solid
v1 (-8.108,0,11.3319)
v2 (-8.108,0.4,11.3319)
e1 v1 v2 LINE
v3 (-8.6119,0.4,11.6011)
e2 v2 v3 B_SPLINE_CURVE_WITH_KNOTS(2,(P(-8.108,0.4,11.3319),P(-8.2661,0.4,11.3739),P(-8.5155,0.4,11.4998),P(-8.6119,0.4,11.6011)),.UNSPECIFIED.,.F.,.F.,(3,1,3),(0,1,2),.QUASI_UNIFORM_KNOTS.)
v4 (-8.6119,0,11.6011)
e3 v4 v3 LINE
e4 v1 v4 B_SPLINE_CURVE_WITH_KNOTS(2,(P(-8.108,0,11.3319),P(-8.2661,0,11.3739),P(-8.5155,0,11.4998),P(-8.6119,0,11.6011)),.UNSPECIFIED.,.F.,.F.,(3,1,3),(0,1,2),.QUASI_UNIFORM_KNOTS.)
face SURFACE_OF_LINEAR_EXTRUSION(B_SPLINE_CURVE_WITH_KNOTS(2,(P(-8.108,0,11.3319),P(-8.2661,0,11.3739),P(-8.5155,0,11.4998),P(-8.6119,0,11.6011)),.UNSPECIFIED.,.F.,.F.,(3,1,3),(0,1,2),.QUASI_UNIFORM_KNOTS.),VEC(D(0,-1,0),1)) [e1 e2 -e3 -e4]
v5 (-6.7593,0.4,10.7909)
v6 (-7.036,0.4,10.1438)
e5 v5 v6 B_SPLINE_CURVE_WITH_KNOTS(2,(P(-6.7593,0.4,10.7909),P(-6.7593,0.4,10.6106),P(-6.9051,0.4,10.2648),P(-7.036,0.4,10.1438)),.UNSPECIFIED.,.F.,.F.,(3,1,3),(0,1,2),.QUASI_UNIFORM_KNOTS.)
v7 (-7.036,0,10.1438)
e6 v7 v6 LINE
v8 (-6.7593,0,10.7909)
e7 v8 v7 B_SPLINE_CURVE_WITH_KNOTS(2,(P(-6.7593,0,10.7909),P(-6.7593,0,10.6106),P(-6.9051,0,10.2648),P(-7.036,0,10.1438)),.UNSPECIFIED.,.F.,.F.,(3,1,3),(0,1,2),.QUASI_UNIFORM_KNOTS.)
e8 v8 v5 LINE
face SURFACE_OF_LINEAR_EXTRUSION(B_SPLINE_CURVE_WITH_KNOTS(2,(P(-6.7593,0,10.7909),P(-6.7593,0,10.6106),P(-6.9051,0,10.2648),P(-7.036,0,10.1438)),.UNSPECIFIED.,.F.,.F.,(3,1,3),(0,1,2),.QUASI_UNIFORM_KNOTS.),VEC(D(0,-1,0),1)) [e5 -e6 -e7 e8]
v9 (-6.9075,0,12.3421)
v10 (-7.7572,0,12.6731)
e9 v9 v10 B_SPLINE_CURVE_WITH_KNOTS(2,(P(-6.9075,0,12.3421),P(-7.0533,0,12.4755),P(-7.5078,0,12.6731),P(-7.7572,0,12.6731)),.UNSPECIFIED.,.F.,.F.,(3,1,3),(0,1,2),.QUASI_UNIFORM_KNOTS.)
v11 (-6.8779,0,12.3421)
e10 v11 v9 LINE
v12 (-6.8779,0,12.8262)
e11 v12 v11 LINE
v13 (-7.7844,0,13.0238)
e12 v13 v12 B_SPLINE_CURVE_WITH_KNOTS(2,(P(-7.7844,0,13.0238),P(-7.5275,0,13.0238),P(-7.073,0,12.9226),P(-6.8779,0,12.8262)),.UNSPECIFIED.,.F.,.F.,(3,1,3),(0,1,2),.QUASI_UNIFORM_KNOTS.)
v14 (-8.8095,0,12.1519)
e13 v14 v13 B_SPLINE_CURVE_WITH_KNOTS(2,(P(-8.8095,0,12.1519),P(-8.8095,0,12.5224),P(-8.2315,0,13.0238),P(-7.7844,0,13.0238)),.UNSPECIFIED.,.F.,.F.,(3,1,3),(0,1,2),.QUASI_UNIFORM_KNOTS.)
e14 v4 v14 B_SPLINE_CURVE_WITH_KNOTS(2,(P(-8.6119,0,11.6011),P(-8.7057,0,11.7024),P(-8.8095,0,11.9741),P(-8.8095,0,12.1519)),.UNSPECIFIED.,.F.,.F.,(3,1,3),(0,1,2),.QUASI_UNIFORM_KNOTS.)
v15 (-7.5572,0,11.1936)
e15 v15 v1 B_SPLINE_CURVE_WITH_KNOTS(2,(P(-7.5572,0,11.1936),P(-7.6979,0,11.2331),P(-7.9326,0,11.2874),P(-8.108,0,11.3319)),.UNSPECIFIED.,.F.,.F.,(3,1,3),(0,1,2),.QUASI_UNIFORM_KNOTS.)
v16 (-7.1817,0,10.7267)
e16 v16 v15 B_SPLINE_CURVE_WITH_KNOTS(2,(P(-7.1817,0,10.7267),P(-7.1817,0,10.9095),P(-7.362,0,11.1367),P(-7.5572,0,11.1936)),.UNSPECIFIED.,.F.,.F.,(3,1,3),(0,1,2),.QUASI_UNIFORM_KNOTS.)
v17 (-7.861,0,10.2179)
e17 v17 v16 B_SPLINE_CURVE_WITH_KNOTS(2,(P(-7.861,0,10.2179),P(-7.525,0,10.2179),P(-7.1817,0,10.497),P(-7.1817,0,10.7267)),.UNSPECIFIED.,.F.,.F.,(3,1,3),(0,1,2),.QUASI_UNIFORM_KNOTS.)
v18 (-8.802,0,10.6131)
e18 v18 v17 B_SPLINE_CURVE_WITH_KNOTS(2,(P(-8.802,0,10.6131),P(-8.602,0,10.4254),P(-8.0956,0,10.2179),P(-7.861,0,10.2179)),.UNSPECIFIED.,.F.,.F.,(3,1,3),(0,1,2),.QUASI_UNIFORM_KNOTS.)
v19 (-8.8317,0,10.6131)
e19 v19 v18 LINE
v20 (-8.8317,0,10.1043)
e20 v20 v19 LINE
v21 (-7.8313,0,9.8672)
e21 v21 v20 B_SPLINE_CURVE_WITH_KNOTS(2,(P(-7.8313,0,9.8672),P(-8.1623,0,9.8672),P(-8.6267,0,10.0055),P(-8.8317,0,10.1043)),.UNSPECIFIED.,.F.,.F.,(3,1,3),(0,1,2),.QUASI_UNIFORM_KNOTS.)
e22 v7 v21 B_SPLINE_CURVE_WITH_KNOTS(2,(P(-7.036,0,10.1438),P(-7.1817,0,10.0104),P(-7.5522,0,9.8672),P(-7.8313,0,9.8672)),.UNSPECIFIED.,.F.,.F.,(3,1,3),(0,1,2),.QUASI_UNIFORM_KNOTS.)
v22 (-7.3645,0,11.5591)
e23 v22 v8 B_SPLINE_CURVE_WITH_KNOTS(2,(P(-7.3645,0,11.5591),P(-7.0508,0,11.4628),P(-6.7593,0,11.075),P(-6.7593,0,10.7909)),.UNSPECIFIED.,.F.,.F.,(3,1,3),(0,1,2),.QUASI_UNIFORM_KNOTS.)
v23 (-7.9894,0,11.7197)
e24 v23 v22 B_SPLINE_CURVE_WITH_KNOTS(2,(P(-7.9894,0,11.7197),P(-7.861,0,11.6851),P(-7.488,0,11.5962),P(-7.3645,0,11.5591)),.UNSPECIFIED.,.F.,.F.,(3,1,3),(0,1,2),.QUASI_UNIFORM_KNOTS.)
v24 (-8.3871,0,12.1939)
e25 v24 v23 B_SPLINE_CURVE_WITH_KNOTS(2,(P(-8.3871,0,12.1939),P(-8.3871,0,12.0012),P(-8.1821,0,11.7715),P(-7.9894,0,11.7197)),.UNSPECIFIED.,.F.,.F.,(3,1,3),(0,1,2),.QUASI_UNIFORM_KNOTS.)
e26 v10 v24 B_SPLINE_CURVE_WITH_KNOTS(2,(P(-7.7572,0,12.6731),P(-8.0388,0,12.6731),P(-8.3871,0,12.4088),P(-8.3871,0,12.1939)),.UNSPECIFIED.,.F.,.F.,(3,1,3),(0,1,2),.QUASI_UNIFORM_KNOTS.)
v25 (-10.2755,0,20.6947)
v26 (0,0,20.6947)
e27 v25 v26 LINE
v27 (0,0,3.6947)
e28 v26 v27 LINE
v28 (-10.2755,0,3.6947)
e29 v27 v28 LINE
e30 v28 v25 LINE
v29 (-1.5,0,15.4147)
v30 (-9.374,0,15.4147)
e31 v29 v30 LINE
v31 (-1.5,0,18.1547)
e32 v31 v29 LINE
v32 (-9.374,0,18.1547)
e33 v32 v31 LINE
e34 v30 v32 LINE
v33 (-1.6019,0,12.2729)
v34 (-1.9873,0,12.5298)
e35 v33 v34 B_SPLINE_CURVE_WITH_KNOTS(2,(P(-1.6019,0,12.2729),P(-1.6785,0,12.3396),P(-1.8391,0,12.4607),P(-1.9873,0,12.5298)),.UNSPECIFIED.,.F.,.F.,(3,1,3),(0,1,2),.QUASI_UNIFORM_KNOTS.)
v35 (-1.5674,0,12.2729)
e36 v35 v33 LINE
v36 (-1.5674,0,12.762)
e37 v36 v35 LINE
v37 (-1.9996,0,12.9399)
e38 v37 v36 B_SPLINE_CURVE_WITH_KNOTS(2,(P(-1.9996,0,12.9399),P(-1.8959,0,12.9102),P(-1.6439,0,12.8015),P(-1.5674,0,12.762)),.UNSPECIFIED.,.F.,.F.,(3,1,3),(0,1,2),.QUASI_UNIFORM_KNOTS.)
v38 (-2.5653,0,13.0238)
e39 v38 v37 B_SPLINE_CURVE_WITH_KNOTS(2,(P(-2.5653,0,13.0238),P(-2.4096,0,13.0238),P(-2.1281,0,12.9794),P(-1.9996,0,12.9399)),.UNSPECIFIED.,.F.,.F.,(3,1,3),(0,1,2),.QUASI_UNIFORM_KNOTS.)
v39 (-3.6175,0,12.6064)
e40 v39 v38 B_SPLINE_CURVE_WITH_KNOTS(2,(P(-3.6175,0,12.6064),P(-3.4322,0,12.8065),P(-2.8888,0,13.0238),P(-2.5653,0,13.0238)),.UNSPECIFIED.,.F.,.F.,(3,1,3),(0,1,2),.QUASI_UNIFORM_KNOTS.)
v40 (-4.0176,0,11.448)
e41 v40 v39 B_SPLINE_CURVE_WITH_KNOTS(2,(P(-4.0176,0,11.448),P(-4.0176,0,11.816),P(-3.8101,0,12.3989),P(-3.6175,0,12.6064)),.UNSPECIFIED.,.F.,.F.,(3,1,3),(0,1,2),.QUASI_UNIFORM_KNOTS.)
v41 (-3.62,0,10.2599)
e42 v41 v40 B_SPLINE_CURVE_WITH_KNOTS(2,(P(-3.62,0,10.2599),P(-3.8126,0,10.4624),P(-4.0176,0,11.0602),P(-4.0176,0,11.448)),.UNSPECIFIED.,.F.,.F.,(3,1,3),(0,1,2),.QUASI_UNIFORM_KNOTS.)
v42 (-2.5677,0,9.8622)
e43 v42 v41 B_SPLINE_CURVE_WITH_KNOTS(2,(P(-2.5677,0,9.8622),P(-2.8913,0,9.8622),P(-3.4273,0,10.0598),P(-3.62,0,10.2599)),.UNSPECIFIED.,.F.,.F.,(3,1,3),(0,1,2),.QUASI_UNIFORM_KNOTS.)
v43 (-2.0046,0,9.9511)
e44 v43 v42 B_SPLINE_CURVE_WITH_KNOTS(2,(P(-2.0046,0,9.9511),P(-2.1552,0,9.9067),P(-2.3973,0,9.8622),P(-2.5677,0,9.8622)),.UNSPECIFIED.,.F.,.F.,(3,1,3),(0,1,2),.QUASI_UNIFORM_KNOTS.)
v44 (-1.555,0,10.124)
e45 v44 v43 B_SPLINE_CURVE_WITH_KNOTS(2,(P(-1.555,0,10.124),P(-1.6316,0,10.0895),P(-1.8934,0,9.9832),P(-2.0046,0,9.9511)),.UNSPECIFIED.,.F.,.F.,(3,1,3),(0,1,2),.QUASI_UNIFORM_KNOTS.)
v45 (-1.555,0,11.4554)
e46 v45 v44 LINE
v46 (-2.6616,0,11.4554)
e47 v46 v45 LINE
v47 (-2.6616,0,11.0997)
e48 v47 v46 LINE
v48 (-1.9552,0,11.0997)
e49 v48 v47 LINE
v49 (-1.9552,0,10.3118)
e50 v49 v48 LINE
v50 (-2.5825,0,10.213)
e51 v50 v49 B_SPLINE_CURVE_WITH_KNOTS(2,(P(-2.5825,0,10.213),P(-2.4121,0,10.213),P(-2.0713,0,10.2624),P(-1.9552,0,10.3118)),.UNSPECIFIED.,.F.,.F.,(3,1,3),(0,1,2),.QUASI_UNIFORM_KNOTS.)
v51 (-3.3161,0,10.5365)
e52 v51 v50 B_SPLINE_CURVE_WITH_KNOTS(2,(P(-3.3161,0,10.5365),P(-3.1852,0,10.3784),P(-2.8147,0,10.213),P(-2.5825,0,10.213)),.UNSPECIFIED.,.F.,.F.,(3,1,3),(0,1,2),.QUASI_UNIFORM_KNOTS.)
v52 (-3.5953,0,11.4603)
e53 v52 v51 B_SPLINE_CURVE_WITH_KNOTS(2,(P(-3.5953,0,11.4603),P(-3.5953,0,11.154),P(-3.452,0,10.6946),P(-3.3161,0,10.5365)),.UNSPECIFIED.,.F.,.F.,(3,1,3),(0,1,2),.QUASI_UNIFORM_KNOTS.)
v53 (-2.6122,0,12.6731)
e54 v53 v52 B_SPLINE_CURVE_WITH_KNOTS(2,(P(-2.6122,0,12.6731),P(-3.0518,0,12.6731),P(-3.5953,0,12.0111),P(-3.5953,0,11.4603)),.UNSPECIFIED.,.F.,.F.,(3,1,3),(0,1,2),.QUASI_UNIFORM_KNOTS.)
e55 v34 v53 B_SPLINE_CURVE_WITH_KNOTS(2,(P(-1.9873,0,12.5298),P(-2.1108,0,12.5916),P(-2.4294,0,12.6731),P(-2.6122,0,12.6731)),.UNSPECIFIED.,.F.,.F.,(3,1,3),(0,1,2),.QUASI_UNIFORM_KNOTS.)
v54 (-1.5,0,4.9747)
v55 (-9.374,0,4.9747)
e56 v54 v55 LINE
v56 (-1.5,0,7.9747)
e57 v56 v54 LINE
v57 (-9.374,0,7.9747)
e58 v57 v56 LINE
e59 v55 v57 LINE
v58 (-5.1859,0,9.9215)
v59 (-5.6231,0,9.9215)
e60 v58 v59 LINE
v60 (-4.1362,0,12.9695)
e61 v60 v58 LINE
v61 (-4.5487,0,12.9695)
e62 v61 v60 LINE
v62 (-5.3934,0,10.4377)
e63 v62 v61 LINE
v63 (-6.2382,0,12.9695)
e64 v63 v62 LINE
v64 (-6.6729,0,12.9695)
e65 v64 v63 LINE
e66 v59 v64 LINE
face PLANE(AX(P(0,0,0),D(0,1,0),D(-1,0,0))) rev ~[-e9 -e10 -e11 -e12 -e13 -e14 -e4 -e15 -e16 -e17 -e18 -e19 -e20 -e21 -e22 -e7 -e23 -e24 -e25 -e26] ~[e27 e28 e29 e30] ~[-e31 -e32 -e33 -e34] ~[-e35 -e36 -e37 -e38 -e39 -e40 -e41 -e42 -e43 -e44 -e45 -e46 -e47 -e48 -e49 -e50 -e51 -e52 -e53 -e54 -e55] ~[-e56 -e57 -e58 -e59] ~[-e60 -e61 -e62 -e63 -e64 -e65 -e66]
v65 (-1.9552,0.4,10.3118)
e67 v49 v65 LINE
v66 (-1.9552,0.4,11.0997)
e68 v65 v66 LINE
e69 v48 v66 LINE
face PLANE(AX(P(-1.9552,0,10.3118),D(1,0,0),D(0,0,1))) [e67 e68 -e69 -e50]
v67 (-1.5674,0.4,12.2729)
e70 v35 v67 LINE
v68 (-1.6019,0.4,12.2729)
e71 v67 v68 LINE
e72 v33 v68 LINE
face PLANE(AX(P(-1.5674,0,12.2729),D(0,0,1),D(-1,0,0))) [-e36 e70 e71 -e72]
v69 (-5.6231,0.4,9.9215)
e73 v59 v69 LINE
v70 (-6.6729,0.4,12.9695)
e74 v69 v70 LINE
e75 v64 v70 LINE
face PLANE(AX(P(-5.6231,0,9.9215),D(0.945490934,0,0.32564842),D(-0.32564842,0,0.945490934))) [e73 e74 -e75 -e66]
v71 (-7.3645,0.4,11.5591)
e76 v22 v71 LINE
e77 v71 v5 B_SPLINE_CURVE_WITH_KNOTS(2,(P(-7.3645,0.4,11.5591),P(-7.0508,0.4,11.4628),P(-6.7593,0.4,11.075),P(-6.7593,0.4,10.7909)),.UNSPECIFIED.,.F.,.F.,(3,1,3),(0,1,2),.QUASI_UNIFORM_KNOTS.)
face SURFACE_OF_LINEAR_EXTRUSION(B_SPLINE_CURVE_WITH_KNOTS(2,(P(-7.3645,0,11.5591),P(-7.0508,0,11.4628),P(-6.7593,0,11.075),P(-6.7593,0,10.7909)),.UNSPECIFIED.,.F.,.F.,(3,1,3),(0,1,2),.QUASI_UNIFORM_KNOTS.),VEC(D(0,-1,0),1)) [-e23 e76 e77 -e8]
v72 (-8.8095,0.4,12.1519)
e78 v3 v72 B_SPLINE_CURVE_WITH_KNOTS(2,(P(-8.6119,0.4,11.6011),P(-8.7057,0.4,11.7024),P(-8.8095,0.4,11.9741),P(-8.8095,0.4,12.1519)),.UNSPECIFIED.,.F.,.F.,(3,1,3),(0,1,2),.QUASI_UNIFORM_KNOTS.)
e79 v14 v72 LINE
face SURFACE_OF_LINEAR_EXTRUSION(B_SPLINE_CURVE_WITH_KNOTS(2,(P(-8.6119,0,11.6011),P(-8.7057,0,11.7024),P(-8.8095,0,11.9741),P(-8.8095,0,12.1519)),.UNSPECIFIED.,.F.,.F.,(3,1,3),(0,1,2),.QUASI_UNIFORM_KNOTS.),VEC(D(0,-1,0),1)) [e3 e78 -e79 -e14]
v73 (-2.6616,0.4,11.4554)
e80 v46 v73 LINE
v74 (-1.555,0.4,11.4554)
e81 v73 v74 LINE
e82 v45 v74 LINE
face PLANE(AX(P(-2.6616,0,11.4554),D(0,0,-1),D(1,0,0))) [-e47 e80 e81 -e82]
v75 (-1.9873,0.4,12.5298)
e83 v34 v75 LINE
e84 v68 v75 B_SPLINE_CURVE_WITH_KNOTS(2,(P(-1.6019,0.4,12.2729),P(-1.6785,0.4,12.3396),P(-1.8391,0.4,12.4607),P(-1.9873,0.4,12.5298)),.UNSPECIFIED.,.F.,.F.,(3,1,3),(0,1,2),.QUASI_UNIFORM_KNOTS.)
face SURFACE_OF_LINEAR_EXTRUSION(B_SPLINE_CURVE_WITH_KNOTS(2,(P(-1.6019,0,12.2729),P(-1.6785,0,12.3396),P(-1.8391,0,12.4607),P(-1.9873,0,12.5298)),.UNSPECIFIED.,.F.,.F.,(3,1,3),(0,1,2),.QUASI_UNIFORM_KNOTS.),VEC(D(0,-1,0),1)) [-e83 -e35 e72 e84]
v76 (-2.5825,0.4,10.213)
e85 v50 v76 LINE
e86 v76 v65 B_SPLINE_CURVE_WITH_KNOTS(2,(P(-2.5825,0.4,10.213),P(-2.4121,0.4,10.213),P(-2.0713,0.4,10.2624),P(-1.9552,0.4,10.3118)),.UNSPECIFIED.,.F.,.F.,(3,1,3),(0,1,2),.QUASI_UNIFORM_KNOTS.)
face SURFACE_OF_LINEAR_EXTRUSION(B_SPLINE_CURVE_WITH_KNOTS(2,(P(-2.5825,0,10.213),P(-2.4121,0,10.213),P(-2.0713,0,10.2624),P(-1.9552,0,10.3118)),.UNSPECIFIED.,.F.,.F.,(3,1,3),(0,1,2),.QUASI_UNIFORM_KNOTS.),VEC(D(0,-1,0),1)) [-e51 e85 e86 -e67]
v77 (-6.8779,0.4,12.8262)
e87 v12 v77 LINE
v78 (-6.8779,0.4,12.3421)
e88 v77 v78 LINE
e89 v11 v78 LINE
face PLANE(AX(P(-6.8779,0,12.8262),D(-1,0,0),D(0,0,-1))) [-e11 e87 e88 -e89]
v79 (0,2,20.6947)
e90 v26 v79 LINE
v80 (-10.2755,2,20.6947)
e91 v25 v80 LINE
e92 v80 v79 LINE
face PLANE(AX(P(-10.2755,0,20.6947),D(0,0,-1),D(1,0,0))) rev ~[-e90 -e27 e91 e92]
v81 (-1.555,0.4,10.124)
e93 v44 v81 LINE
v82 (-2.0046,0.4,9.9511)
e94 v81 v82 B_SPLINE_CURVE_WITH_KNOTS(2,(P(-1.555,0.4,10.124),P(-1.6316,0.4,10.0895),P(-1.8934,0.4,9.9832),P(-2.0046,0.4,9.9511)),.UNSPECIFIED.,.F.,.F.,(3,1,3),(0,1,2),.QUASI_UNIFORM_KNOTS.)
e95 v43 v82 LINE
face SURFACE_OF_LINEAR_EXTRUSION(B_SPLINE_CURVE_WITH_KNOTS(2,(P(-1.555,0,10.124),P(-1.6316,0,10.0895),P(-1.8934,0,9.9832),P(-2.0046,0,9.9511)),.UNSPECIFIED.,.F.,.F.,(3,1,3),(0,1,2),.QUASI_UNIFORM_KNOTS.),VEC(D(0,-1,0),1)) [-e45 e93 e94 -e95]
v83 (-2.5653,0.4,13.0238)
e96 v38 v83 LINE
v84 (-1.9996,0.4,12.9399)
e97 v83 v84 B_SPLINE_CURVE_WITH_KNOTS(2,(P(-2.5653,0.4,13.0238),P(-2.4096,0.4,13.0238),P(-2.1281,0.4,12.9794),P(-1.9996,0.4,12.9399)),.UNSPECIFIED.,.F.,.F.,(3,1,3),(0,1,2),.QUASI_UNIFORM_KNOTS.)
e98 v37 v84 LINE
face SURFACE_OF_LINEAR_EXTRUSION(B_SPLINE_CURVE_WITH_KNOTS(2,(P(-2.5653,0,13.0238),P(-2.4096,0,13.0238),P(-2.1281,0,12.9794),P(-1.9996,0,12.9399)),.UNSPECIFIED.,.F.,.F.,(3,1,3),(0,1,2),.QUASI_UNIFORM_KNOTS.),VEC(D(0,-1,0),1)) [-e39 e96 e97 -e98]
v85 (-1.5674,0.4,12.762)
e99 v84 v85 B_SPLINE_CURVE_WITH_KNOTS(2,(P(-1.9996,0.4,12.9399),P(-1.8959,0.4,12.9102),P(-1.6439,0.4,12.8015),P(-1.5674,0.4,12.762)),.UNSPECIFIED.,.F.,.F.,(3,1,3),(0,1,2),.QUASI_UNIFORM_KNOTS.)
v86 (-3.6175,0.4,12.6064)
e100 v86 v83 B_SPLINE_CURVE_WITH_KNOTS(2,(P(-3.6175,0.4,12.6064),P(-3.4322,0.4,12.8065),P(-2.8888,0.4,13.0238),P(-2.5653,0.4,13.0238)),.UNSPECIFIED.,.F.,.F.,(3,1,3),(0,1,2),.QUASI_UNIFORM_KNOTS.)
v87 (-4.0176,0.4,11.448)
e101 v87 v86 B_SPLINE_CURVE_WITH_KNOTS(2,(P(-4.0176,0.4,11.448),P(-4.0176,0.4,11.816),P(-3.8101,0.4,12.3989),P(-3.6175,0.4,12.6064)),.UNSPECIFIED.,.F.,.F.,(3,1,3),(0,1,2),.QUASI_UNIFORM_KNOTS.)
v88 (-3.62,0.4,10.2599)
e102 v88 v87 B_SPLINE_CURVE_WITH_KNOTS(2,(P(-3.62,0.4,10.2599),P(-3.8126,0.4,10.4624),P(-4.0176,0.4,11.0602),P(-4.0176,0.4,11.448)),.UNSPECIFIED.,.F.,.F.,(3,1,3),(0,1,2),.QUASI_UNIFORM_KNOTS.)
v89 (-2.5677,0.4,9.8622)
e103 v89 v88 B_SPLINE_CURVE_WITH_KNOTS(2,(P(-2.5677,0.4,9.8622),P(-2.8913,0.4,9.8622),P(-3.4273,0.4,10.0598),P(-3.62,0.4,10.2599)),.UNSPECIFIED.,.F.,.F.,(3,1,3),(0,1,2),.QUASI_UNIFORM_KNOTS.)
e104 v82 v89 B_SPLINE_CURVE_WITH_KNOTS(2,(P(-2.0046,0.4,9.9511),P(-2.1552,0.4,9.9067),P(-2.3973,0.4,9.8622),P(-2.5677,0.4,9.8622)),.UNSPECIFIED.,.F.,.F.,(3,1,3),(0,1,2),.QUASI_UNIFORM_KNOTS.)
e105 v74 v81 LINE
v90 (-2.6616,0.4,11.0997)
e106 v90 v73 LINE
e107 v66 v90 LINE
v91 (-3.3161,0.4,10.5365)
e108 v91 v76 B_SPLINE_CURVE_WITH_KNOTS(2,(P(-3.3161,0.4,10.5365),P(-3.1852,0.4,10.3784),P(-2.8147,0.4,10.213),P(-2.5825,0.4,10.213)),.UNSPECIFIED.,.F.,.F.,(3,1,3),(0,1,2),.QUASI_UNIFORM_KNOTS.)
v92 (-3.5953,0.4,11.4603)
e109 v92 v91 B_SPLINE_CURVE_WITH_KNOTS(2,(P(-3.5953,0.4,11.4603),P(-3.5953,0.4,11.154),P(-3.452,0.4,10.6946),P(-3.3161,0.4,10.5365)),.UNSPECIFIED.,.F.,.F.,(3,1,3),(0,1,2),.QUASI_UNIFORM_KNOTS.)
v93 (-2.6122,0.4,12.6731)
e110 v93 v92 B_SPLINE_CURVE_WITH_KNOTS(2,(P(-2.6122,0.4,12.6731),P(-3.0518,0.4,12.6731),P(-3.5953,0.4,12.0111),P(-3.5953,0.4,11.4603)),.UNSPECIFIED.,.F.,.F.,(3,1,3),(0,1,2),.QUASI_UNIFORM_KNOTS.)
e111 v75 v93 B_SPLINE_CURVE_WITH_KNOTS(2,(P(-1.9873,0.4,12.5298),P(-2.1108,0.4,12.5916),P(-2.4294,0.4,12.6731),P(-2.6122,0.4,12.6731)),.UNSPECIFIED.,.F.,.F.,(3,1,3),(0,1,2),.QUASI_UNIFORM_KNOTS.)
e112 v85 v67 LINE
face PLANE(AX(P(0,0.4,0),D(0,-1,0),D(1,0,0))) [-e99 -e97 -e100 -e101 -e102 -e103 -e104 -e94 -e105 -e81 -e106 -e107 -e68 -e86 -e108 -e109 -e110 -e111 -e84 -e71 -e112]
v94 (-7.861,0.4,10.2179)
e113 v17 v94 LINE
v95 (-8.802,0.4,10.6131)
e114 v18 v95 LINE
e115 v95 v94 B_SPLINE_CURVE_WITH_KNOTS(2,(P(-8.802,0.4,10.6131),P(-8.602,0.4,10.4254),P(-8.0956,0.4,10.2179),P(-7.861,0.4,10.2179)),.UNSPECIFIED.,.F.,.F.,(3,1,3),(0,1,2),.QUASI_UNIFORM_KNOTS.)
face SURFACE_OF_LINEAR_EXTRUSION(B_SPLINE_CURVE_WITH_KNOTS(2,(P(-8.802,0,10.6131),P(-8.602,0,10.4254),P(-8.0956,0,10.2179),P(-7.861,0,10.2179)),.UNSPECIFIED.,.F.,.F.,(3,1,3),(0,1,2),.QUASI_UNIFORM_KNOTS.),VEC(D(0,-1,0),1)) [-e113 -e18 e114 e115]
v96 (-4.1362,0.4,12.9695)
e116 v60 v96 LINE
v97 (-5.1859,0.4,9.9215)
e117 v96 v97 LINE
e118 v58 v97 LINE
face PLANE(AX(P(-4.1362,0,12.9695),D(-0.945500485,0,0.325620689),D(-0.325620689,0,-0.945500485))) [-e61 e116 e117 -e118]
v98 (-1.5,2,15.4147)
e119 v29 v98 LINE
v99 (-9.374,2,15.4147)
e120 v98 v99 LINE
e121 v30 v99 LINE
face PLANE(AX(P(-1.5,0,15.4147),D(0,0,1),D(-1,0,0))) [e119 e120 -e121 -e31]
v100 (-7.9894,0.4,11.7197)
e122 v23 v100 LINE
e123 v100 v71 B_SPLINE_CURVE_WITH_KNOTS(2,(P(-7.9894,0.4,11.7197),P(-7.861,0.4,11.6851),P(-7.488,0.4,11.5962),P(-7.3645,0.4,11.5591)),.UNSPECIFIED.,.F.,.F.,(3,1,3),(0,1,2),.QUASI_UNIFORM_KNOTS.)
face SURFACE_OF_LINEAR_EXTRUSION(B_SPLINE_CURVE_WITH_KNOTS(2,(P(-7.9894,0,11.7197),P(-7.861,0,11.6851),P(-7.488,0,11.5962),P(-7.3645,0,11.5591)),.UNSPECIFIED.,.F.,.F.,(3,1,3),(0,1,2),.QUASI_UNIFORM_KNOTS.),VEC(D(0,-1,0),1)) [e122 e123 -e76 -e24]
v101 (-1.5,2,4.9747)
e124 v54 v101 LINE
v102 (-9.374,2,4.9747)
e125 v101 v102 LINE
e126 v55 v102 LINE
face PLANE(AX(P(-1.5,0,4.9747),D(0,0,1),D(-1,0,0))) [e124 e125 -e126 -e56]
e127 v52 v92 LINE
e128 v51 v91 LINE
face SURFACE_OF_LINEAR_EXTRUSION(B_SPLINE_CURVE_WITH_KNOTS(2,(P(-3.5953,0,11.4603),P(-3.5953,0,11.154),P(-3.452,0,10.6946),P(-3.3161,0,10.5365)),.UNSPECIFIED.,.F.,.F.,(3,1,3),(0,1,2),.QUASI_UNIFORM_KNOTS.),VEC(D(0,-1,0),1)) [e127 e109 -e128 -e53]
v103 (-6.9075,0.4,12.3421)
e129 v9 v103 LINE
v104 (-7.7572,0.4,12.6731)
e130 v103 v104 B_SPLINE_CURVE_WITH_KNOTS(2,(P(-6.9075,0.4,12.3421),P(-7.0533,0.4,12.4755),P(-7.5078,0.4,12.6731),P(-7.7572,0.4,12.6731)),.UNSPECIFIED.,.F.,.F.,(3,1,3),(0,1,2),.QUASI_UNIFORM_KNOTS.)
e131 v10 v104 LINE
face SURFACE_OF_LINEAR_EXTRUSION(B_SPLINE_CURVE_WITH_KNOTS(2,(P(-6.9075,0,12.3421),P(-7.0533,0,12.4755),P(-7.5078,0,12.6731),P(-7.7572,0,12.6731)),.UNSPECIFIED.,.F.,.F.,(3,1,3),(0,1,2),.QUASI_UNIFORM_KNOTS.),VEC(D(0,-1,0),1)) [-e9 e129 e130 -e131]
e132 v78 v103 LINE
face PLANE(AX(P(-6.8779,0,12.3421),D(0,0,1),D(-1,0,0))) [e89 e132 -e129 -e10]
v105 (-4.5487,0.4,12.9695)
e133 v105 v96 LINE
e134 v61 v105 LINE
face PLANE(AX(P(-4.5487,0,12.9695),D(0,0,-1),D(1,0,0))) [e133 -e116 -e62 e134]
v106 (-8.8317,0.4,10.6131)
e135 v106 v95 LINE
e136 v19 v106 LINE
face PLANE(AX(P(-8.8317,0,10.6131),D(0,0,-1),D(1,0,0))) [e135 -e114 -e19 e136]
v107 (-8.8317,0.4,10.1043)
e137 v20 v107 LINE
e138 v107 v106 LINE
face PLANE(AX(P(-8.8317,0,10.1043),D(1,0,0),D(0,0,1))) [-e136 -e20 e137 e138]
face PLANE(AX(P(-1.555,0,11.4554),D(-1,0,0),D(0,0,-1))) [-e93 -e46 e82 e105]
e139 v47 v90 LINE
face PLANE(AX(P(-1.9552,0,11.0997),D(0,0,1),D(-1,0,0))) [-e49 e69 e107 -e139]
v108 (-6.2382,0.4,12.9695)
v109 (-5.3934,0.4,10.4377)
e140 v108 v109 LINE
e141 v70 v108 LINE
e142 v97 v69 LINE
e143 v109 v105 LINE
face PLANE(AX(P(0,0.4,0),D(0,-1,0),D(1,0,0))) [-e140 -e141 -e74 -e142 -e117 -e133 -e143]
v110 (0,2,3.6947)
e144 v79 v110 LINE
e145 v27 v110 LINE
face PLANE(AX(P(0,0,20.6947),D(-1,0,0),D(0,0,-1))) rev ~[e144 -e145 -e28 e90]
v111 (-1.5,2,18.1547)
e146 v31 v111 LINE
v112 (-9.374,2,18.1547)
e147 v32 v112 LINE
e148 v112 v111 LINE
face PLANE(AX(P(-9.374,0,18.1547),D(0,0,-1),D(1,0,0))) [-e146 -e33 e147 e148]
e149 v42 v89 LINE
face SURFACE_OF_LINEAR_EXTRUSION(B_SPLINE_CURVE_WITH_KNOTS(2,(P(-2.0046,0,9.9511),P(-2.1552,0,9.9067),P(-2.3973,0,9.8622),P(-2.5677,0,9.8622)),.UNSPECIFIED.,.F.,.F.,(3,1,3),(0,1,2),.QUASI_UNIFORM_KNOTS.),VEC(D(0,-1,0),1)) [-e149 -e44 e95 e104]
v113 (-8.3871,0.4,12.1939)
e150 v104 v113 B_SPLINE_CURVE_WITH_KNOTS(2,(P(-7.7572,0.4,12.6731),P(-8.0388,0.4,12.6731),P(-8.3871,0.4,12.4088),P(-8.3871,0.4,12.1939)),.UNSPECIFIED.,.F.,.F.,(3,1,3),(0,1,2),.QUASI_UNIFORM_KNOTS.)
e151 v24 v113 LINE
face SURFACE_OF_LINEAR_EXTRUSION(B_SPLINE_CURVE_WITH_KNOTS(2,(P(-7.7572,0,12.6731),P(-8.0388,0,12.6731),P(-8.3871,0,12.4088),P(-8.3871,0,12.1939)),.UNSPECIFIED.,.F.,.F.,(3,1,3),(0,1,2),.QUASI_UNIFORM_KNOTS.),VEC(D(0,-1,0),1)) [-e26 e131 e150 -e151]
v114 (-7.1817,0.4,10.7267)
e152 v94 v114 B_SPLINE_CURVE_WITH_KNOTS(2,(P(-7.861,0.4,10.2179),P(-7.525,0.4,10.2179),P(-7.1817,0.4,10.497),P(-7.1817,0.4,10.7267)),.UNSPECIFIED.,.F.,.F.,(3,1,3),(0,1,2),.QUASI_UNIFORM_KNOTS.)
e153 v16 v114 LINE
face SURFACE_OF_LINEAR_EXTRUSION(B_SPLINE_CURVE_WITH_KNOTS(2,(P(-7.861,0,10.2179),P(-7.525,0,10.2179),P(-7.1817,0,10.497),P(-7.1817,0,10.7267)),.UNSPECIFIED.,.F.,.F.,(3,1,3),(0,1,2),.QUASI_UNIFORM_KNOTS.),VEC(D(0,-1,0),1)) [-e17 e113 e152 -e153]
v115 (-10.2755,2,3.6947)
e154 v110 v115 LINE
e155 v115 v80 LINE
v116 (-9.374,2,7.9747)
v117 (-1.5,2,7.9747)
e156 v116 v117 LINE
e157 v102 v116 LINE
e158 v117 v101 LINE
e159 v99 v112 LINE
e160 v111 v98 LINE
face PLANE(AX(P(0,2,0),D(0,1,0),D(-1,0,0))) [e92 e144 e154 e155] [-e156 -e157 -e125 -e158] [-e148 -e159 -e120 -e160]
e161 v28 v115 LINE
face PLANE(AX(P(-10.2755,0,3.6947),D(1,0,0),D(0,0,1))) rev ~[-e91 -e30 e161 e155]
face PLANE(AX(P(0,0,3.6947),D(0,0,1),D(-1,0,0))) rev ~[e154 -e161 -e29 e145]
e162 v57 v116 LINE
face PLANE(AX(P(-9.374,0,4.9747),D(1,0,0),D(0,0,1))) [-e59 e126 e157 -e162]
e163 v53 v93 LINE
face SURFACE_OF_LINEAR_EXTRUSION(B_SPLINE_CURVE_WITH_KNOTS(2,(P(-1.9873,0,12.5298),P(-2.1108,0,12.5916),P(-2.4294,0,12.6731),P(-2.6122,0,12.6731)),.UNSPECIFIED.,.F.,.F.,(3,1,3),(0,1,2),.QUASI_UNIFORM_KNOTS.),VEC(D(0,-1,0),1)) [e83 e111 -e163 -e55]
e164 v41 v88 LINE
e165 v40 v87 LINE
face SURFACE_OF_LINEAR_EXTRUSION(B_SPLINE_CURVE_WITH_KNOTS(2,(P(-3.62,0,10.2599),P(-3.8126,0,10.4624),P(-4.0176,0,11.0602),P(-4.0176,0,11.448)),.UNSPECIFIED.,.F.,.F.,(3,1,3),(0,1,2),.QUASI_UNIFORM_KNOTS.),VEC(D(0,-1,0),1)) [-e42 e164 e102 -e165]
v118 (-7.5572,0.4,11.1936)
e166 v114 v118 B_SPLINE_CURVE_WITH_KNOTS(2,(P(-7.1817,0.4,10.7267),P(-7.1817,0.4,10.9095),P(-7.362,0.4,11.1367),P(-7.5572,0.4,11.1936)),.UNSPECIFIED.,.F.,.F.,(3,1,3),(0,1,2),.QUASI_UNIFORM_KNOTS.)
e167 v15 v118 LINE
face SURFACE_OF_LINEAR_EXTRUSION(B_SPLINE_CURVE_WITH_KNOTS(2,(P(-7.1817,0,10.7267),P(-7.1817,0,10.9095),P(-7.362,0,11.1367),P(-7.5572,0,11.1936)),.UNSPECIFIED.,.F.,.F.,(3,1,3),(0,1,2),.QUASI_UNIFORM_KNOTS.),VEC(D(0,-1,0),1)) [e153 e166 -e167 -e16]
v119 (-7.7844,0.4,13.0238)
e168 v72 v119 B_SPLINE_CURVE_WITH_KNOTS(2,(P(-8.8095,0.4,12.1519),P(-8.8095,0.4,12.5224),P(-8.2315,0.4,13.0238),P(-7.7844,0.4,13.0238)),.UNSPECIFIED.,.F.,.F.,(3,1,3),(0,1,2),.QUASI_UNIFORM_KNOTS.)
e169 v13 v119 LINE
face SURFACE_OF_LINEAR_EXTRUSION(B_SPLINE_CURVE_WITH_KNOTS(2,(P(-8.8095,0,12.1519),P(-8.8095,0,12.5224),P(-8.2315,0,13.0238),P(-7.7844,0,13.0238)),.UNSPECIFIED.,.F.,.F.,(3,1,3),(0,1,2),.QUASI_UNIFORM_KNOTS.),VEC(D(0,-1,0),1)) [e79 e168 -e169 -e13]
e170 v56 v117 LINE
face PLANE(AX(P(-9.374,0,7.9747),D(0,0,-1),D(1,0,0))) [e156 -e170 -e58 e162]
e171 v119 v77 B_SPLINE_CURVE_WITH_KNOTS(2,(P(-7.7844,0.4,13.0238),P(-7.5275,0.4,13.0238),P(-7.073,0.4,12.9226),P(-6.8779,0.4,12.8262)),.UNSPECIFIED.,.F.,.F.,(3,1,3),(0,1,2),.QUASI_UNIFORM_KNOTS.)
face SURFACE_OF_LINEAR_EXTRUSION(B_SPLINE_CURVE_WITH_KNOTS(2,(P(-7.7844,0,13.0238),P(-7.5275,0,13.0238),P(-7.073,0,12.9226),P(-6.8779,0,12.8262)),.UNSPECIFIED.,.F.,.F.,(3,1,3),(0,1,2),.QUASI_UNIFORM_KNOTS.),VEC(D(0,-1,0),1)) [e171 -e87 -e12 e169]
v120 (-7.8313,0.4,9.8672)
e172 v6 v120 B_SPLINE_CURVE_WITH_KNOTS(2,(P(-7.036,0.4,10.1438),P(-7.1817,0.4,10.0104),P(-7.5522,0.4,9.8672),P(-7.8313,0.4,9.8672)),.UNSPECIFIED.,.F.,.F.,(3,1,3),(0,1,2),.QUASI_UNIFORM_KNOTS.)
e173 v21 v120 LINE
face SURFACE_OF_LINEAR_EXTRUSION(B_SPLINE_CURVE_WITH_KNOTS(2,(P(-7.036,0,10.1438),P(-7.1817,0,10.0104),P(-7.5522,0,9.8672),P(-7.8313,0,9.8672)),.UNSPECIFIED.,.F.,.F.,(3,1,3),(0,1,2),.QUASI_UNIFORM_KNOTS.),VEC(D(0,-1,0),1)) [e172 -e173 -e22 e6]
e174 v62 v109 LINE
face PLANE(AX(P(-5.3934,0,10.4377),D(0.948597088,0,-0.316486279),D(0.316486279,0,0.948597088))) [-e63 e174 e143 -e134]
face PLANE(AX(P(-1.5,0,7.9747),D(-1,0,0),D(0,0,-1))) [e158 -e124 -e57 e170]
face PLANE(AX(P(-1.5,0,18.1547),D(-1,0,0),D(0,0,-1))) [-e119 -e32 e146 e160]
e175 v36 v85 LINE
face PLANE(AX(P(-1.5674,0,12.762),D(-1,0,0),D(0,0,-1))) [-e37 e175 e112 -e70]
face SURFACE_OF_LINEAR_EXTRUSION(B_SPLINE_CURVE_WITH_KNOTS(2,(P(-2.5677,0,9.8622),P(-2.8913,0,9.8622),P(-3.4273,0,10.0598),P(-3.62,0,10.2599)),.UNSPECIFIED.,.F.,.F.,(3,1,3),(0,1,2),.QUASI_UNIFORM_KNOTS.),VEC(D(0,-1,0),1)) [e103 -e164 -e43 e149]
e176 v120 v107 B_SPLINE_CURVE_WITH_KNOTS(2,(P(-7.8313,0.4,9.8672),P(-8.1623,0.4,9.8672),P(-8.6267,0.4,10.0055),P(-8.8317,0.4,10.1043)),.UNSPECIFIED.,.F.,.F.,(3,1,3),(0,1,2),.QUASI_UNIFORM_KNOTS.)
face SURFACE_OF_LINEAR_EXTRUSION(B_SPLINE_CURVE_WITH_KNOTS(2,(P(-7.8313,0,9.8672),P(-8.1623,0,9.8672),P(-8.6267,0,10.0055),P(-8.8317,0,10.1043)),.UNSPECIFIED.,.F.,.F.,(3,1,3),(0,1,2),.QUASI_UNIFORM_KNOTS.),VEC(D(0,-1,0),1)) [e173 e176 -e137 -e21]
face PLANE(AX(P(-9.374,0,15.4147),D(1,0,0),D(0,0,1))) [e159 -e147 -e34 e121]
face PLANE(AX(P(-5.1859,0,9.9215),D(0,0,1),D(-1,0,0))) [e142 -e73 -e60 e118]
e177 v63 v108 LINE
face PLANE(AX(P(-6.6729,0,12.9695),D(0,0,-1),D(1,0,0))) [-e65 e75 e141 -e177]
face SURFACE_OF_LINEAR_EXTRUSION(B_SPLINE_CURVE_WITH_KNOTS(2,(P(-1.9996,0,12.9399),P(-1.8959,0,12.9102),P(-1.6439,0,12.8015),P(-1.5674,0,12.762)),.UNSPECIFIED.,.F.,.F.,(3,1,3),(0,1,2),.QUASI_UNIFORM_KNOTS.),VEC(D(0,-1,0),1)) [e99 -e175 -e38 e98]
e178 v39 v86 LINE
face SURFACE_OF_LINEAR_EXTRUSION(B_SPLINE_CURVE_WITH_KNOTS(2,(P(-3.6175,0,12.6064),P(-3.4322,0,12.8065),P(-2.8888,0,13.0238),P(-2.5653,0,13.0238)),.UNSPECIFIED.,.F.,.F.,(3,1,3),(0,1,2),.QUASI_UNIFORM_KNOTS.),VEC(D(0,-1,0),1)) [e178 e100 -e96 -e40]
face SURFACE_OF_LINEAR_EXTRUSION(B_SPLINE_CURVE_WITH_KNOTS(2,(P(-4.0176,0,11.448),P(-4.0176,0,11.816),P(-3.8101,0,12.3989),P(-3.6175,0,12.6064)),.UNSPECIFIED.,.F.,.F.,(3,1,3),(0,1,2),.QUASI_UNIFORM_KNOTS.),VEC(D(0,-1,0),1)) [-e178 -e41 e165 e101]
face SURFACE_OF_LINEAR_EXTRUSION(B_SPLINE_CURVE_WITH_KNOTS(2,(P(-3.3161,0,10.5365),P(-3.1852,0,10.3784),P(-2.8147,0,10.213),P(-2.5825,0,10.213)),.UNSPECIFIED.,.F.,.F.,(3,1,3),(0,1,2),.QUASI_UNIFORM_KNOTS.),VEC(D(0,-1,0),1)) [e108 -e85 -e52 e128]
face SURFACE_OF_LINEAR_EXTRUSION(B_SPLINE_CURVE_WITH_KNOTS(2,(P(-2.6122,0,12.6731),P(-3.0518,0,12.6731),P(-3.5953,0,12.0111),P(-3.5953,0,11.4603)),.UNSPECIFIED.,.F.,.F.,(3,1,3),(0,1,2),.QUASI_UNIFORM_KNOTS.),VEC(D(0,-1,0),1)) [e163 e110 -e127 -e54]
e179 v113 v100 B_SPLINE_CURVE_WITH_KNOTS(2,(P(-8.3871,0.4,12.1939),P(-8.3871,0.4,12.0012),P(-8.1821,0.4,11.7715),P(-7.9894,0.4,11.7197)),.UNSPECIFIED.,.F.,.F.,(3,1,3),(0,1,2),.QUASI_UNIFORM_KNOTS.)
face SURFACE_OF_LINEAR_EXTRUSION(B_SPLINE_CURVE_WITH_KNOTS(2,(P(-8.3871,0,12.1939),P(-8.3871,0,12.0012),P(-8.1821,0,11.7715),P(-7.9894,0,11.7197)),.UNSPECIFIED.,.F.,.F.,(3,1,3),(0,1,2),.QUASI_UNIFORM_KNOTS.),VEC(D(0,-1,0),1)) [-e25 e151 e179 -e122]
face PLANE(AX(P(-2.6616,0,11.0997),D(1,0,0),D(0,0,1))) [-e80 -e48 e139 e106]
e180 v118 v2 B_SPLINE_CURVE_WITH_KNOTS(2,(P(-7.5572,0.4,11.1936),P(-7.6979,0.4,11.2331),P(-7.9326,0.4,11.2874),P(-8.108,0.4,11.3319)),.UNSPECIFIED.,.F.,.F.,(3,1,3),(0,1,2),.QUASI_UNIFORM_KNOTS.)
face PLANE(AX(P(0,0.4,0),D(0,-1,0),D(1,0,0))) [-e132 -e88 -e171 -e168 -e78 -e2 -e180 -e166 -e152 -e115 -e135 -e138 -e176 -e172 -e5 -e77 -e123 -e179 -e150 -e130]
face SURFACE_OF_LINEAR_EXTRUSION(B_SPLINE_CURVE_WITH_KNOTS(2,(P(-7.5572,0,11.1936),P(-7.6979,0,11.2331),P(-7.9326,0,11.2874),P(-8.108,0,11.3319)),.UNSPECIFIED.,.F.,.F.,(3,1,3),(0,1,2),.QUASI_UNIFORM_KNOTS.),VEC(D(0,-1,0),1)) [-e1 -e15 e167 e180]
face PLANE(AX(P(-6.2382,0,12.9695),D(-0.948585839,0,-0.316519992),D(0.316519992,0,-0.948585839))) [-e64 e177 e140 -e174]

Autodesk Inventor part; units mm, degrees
ref_plane "YZ Plane" through (0, 0, 0) normal (1, 0, 0) x (0, 1, 0)
ref_plane "XZ Plane" through (0, 0, 0) normal (0, 1, 0) x (-1, 0, 0)
ref_plane "XY Plane" through (0, 0, 0) normal (0, 0, 1) x (1, 0, 0)
sketch "Эскиз1" plane through (0, 0, 0) normal (0, 1, 0) x (-1, 0, 0)
  line L0 (9.374, 18.1547) -> (1.5, 18.1547)
  line L1 (1.5, 18.1547) -> (1.5, 15.4147)
  line L2 (1.5, 15.4147) -> (9.374, 15.4147)
  line L3 (9.374, 15.4147) -> (9.374, 18.1547)
  line L4 (9.374, 7.9747) -> (1.5, 7.9747)
  line L5 (1.5, 7.9747) -> (1.5, 4.9747)
  line L6 (1.5, 4.9747) -> (9.374, 4.9747)
  line L7 (9.374, 4.9747) -> (9.374, 7.9747)
  line L8 (10.2755, 20.6947) -> (0, 20.6947)
  line L9 (0, 20.6947) -> (0, 3.6947)
  line L10 (0, 3.6947) -> (10.2755, 3.6947)
  line L11 (10.2755, 3.6947) -> (10.2755, 20.6947)
  point P0 (0, 0)
  dimension "d3" = 17
  dimension "d4" = 7.874
  dimension "d5" = 2.74
  dimension "d6" = 2.54
  dimension "d7" = 7.44
  dimension "d8" = 1.5
  dimension "d11" = 3
extrude "Выдавливание1" add sketch "Эскиз1" along normal blind 2
sketch "Эскиз3" plane through (0, 0, 0) normal (0, -1, 0) x (1, 0, 0)
  line L0 (-8.9898, 13.0238) -> (-0.8671, 13.0238) construction
  line L1 (-0.8671, 13.0238) -> (-0.8671, 9.5038) construction
  line L2 (-0.8671, 9.5038) -> (-8.9898, 9.5038) construction
  line L3 (-8.9898, 9.5038) -> (-8.9898, 13.0238) construction
  spline S0 degree 2 poles (-7.8313, 9.8672) (-8.1623, 9.8672) (-8.6267, 10.0055) (-8.8317, 10.1043) knots 0 0 0 1 2 2 2
  line L4 (-8.8317, 10.1043) -> (-8.8317, 10.6131)
  line L5 (-8.8317, 10.6131) -> (-8.802, 10.6131)
  spline S1 degree 2 poles (-8.802, 10.6131) (-8.602, 10.4254) (-8.0956, 10.2179) (-7.861, 10.2179) knots 0 0 0 1 2 2 2
  spline S2 degree 2 poles (-7.861, 10.2179) (-7.525, 10.2179) (-7.1817, 10.497) (-7.1817, 10.7267) knots 0 0 0 1 2 2 2
  spline S3 degree 2 poles (-7.1817, 10.7267) (-7.1817, 10.9095) (-7.362, 11.1367) (-7.5572, 11.1936) knots 0 0 0 1 2 2 2
  spline S4 degree 2 poles (-7.5572, 11.1936) (-7.6979, 11.2331) (-7.9326, 11.2874) (-8.108, 11.3319) knots 0 0 0 1 2 2 2
  spline S5 degree 2 poles (-8.108, 11.3319) (-8.2661, 11.3739) (-8.5155, 11.4998) (-8.6119, 11.6011) knots 0 0 0 1 2 2 2
  spline S6 degree 2 poles (-8.6119, 11.6011) (-8.7057, 11.7024) (-8.8095, 11.9741) (-8.8095, 12.1519) knots 0 0 0 1 2 2 2
  spline S7 degree 2 poles (-8.8095, 12.1519) (-8.8095, 12.5224) (-8.2315, 13.0238) (-7.7844, 13.0238) knots 0 0 0 1 2 2 2
  spline S8 degree 2 poles (-7.7844, 13.0238) (-7.5275, 13.0238) (-7.073, 12.9226) (-6.8779, 12.8262) knots 0 0 0 1 2 2 2
  line L6 (-6.8779, 12.8262) -> (-6.8779, 12.3421)
  line L7 (-6.8779, 12.3421) -> (-6.9075, 12.3421)
  spline S9 degree 2 poles (-6.9075, 12.3421) (-7.0533, 12.4755) (-7.5078, 12.6731) (-7.7572, 12.6731) knots 0 0 0 1 2 2 2
  spline S10 degree 2 poles (-7.7572, 12.6731) (-8.0388, 12.6731) (-8.3871, 12.4088) (-8.3871, 12.1939) knots 0 0 0 1 2 2 2
  spline S11 degree 2 poles (-8.3871, 12.1939) (-8.3871, 12.0012) (-8.1821, 11.7715) (-7.9894, 11.7197) knots 0 0 0 1 2 2 2
  spline S12 degree 2 poles (-7.9894, 11.7197) (-7.861, 11.6851) (-7.488, 11.5962) (-7.3645, 11.5591) knots 0 0 0 1 2 2 2
  spline S13 degree 2 poles (-7.3645, 11.5591) (-7.0508, 11.4628) (-6.7593, 11.075) (-6.7593, 10.7909) knots 0 0 0 1 2 2 2
  spline S14 degree 2 poles (-6.7593, 10.7909) (-6.7593, 10.6106) (-6.9051, 10.2648) (-7.036, 10.1438) knots 0 0 0 1 2 2 2
  spline S15 degree 2 poles (-7.036, 10.1438) (-7.1817, 10.0104) (-7.5522, 9.8672) (-7.8313, 9.8672) knots 0 0 0 1 2 2 2
  line L8 (-4.1362, 12.9695) -> (-5.1859, 9.9215)
  line L9 (-5.1859, 9.9215) -> (-5.6231, 9.9215)
  line L10 (-5.6231, 9.9215) -> (-6.6729, 12.9695)
  line L11 (-6.6729, 12.9695) -> (-6.2382, 12.9695)
  line L12 (-6.2382, 12.9695) -> (-5.3934, 10.4377)
  line L13 (-5.3934, 10.4377) -> (-4.5487, 12.9695)
  line L14 (-4.5487, 12.9695) -> (-4.1362, 12.9695)
  spline S16 degree 2 poles (-2.5677, 9.8622) (-2.8913, 9.8622) (-3.4273, 10.0598) (-3.62, 10.2599) knots 0 0 0 1 2 2 2
  spline S17 degree 2 poles (-3.62, 10.2599) (-3.8126, 10.4624) (-4.0176, 11.0602) (-4.0176, 11.448) knots 0 0 0 1 2 2 2
  spline S18 degree 2 poles (-4.0176, 11.448) (-4.0176, 11.816) (-3.8101, 12.3989) (-3.6175, 12.6064) knots 0 0 0 1 2 2 2
  spline S19 degree 2 poles (-3.6175, 12.6064) (-3.4322, 12.8065) (-2.8888, 13.0238) (-2.5653, 13.0238) knots 0 0 0 1 2 2 2
  spline S20 degree 2 poles (-2.5653, 13.0238) (-2.4096, 13.0238) (-2.1281, 12.9794) (-1.9996, 12.9399) knots 0 0 0 1 2 2 2
  spline S21 degree 2 poles (-1.9996, 12.9399) (-1.8959, 12.9102) (-1.6439, 12.8015) (-1.5674, 12.762) knots 0 0 0 1 2 2 2
  line L15 (-1.5674, 12.762) -> (-1.5674, 12.2729)
  line L16 (-1.5674, 12.2729) -> (-1.6019, 12.2729)
  spline S22 degree 2 poles (-1.6019, 12.2729) (-1.6785, 12.3396) (-1.8391, 12.4607) (-1.9873, 12.5298) knots 0 0 0 1 2 2 2
  spline S23 degree 2 poles (-1.9873, 12.5298) (-2.1108, 12.5916) (-2.4294, 12.6731) (-2.6122, 12.6731) knots 0 0 0 1 2 2 2
  spline S24 degree 2 poles (-2.6122, 12.6731) (-3.0518, 12.6731) (-3.5953, 12.0111) (-3.5953, 11.4603) knots 0 0 0 1 2 2 2
  spline S25 degree 2 poles (-3.5953, 11.4603) (-3.5953, 11.154) (-3.452, 10.6946) (-3.3161, 10.5365) knots 0 0 0 1 2 2 2
  spline S26 degree 2 poles (-3.3161, 10.5365) (-3.1852, 10.3784) (-2.8147, 10.213) (-2.5825, 10.213) knots 0 0 0 1 2 2 2
  spline S27 degree 2 poles (-2.5825, 10.213) (-2.4121, 10.213) (-2.0713, 10.2624) (-1.9552, 10.3118) knots 0 0 0 1 2 2 2
  line L17 (-1.9552, 10.3118) -> (-1.9552, 11.0997)
  line L18 (-1.9552, 11.0997) -> (-2.6616, 11.0997)
  line L19 (-2.6616, 11.0997) -> (-2.6616, 11.4554)
  line L20 (-2.6616, 11.4554) -> (-1.555, 11.4554)
  line L21 (-1.555, 11.4554) -> (-1.555, 10.124)
  spline S28 degree 2 poles (-1.555, 10.124) (-1.6316, 10.0895) (-1.8934, 9.9832) (-2.0046, 9.9511) knots 0 0 0 1 2 2 2
  spline S29 degree 2 poles (-2.0046, 9.9511) (-2.1552, 9.9067) (-2.3973, 9.8622) (-2.5677, 9.8622) knots 0 0 0 1 2 2 2
  point P0 (0, 0)
extrude "Выдавливание2" cut sketch "Эскиз3" against normal blind 0.4
properties part number "подшипник_крепеж"
